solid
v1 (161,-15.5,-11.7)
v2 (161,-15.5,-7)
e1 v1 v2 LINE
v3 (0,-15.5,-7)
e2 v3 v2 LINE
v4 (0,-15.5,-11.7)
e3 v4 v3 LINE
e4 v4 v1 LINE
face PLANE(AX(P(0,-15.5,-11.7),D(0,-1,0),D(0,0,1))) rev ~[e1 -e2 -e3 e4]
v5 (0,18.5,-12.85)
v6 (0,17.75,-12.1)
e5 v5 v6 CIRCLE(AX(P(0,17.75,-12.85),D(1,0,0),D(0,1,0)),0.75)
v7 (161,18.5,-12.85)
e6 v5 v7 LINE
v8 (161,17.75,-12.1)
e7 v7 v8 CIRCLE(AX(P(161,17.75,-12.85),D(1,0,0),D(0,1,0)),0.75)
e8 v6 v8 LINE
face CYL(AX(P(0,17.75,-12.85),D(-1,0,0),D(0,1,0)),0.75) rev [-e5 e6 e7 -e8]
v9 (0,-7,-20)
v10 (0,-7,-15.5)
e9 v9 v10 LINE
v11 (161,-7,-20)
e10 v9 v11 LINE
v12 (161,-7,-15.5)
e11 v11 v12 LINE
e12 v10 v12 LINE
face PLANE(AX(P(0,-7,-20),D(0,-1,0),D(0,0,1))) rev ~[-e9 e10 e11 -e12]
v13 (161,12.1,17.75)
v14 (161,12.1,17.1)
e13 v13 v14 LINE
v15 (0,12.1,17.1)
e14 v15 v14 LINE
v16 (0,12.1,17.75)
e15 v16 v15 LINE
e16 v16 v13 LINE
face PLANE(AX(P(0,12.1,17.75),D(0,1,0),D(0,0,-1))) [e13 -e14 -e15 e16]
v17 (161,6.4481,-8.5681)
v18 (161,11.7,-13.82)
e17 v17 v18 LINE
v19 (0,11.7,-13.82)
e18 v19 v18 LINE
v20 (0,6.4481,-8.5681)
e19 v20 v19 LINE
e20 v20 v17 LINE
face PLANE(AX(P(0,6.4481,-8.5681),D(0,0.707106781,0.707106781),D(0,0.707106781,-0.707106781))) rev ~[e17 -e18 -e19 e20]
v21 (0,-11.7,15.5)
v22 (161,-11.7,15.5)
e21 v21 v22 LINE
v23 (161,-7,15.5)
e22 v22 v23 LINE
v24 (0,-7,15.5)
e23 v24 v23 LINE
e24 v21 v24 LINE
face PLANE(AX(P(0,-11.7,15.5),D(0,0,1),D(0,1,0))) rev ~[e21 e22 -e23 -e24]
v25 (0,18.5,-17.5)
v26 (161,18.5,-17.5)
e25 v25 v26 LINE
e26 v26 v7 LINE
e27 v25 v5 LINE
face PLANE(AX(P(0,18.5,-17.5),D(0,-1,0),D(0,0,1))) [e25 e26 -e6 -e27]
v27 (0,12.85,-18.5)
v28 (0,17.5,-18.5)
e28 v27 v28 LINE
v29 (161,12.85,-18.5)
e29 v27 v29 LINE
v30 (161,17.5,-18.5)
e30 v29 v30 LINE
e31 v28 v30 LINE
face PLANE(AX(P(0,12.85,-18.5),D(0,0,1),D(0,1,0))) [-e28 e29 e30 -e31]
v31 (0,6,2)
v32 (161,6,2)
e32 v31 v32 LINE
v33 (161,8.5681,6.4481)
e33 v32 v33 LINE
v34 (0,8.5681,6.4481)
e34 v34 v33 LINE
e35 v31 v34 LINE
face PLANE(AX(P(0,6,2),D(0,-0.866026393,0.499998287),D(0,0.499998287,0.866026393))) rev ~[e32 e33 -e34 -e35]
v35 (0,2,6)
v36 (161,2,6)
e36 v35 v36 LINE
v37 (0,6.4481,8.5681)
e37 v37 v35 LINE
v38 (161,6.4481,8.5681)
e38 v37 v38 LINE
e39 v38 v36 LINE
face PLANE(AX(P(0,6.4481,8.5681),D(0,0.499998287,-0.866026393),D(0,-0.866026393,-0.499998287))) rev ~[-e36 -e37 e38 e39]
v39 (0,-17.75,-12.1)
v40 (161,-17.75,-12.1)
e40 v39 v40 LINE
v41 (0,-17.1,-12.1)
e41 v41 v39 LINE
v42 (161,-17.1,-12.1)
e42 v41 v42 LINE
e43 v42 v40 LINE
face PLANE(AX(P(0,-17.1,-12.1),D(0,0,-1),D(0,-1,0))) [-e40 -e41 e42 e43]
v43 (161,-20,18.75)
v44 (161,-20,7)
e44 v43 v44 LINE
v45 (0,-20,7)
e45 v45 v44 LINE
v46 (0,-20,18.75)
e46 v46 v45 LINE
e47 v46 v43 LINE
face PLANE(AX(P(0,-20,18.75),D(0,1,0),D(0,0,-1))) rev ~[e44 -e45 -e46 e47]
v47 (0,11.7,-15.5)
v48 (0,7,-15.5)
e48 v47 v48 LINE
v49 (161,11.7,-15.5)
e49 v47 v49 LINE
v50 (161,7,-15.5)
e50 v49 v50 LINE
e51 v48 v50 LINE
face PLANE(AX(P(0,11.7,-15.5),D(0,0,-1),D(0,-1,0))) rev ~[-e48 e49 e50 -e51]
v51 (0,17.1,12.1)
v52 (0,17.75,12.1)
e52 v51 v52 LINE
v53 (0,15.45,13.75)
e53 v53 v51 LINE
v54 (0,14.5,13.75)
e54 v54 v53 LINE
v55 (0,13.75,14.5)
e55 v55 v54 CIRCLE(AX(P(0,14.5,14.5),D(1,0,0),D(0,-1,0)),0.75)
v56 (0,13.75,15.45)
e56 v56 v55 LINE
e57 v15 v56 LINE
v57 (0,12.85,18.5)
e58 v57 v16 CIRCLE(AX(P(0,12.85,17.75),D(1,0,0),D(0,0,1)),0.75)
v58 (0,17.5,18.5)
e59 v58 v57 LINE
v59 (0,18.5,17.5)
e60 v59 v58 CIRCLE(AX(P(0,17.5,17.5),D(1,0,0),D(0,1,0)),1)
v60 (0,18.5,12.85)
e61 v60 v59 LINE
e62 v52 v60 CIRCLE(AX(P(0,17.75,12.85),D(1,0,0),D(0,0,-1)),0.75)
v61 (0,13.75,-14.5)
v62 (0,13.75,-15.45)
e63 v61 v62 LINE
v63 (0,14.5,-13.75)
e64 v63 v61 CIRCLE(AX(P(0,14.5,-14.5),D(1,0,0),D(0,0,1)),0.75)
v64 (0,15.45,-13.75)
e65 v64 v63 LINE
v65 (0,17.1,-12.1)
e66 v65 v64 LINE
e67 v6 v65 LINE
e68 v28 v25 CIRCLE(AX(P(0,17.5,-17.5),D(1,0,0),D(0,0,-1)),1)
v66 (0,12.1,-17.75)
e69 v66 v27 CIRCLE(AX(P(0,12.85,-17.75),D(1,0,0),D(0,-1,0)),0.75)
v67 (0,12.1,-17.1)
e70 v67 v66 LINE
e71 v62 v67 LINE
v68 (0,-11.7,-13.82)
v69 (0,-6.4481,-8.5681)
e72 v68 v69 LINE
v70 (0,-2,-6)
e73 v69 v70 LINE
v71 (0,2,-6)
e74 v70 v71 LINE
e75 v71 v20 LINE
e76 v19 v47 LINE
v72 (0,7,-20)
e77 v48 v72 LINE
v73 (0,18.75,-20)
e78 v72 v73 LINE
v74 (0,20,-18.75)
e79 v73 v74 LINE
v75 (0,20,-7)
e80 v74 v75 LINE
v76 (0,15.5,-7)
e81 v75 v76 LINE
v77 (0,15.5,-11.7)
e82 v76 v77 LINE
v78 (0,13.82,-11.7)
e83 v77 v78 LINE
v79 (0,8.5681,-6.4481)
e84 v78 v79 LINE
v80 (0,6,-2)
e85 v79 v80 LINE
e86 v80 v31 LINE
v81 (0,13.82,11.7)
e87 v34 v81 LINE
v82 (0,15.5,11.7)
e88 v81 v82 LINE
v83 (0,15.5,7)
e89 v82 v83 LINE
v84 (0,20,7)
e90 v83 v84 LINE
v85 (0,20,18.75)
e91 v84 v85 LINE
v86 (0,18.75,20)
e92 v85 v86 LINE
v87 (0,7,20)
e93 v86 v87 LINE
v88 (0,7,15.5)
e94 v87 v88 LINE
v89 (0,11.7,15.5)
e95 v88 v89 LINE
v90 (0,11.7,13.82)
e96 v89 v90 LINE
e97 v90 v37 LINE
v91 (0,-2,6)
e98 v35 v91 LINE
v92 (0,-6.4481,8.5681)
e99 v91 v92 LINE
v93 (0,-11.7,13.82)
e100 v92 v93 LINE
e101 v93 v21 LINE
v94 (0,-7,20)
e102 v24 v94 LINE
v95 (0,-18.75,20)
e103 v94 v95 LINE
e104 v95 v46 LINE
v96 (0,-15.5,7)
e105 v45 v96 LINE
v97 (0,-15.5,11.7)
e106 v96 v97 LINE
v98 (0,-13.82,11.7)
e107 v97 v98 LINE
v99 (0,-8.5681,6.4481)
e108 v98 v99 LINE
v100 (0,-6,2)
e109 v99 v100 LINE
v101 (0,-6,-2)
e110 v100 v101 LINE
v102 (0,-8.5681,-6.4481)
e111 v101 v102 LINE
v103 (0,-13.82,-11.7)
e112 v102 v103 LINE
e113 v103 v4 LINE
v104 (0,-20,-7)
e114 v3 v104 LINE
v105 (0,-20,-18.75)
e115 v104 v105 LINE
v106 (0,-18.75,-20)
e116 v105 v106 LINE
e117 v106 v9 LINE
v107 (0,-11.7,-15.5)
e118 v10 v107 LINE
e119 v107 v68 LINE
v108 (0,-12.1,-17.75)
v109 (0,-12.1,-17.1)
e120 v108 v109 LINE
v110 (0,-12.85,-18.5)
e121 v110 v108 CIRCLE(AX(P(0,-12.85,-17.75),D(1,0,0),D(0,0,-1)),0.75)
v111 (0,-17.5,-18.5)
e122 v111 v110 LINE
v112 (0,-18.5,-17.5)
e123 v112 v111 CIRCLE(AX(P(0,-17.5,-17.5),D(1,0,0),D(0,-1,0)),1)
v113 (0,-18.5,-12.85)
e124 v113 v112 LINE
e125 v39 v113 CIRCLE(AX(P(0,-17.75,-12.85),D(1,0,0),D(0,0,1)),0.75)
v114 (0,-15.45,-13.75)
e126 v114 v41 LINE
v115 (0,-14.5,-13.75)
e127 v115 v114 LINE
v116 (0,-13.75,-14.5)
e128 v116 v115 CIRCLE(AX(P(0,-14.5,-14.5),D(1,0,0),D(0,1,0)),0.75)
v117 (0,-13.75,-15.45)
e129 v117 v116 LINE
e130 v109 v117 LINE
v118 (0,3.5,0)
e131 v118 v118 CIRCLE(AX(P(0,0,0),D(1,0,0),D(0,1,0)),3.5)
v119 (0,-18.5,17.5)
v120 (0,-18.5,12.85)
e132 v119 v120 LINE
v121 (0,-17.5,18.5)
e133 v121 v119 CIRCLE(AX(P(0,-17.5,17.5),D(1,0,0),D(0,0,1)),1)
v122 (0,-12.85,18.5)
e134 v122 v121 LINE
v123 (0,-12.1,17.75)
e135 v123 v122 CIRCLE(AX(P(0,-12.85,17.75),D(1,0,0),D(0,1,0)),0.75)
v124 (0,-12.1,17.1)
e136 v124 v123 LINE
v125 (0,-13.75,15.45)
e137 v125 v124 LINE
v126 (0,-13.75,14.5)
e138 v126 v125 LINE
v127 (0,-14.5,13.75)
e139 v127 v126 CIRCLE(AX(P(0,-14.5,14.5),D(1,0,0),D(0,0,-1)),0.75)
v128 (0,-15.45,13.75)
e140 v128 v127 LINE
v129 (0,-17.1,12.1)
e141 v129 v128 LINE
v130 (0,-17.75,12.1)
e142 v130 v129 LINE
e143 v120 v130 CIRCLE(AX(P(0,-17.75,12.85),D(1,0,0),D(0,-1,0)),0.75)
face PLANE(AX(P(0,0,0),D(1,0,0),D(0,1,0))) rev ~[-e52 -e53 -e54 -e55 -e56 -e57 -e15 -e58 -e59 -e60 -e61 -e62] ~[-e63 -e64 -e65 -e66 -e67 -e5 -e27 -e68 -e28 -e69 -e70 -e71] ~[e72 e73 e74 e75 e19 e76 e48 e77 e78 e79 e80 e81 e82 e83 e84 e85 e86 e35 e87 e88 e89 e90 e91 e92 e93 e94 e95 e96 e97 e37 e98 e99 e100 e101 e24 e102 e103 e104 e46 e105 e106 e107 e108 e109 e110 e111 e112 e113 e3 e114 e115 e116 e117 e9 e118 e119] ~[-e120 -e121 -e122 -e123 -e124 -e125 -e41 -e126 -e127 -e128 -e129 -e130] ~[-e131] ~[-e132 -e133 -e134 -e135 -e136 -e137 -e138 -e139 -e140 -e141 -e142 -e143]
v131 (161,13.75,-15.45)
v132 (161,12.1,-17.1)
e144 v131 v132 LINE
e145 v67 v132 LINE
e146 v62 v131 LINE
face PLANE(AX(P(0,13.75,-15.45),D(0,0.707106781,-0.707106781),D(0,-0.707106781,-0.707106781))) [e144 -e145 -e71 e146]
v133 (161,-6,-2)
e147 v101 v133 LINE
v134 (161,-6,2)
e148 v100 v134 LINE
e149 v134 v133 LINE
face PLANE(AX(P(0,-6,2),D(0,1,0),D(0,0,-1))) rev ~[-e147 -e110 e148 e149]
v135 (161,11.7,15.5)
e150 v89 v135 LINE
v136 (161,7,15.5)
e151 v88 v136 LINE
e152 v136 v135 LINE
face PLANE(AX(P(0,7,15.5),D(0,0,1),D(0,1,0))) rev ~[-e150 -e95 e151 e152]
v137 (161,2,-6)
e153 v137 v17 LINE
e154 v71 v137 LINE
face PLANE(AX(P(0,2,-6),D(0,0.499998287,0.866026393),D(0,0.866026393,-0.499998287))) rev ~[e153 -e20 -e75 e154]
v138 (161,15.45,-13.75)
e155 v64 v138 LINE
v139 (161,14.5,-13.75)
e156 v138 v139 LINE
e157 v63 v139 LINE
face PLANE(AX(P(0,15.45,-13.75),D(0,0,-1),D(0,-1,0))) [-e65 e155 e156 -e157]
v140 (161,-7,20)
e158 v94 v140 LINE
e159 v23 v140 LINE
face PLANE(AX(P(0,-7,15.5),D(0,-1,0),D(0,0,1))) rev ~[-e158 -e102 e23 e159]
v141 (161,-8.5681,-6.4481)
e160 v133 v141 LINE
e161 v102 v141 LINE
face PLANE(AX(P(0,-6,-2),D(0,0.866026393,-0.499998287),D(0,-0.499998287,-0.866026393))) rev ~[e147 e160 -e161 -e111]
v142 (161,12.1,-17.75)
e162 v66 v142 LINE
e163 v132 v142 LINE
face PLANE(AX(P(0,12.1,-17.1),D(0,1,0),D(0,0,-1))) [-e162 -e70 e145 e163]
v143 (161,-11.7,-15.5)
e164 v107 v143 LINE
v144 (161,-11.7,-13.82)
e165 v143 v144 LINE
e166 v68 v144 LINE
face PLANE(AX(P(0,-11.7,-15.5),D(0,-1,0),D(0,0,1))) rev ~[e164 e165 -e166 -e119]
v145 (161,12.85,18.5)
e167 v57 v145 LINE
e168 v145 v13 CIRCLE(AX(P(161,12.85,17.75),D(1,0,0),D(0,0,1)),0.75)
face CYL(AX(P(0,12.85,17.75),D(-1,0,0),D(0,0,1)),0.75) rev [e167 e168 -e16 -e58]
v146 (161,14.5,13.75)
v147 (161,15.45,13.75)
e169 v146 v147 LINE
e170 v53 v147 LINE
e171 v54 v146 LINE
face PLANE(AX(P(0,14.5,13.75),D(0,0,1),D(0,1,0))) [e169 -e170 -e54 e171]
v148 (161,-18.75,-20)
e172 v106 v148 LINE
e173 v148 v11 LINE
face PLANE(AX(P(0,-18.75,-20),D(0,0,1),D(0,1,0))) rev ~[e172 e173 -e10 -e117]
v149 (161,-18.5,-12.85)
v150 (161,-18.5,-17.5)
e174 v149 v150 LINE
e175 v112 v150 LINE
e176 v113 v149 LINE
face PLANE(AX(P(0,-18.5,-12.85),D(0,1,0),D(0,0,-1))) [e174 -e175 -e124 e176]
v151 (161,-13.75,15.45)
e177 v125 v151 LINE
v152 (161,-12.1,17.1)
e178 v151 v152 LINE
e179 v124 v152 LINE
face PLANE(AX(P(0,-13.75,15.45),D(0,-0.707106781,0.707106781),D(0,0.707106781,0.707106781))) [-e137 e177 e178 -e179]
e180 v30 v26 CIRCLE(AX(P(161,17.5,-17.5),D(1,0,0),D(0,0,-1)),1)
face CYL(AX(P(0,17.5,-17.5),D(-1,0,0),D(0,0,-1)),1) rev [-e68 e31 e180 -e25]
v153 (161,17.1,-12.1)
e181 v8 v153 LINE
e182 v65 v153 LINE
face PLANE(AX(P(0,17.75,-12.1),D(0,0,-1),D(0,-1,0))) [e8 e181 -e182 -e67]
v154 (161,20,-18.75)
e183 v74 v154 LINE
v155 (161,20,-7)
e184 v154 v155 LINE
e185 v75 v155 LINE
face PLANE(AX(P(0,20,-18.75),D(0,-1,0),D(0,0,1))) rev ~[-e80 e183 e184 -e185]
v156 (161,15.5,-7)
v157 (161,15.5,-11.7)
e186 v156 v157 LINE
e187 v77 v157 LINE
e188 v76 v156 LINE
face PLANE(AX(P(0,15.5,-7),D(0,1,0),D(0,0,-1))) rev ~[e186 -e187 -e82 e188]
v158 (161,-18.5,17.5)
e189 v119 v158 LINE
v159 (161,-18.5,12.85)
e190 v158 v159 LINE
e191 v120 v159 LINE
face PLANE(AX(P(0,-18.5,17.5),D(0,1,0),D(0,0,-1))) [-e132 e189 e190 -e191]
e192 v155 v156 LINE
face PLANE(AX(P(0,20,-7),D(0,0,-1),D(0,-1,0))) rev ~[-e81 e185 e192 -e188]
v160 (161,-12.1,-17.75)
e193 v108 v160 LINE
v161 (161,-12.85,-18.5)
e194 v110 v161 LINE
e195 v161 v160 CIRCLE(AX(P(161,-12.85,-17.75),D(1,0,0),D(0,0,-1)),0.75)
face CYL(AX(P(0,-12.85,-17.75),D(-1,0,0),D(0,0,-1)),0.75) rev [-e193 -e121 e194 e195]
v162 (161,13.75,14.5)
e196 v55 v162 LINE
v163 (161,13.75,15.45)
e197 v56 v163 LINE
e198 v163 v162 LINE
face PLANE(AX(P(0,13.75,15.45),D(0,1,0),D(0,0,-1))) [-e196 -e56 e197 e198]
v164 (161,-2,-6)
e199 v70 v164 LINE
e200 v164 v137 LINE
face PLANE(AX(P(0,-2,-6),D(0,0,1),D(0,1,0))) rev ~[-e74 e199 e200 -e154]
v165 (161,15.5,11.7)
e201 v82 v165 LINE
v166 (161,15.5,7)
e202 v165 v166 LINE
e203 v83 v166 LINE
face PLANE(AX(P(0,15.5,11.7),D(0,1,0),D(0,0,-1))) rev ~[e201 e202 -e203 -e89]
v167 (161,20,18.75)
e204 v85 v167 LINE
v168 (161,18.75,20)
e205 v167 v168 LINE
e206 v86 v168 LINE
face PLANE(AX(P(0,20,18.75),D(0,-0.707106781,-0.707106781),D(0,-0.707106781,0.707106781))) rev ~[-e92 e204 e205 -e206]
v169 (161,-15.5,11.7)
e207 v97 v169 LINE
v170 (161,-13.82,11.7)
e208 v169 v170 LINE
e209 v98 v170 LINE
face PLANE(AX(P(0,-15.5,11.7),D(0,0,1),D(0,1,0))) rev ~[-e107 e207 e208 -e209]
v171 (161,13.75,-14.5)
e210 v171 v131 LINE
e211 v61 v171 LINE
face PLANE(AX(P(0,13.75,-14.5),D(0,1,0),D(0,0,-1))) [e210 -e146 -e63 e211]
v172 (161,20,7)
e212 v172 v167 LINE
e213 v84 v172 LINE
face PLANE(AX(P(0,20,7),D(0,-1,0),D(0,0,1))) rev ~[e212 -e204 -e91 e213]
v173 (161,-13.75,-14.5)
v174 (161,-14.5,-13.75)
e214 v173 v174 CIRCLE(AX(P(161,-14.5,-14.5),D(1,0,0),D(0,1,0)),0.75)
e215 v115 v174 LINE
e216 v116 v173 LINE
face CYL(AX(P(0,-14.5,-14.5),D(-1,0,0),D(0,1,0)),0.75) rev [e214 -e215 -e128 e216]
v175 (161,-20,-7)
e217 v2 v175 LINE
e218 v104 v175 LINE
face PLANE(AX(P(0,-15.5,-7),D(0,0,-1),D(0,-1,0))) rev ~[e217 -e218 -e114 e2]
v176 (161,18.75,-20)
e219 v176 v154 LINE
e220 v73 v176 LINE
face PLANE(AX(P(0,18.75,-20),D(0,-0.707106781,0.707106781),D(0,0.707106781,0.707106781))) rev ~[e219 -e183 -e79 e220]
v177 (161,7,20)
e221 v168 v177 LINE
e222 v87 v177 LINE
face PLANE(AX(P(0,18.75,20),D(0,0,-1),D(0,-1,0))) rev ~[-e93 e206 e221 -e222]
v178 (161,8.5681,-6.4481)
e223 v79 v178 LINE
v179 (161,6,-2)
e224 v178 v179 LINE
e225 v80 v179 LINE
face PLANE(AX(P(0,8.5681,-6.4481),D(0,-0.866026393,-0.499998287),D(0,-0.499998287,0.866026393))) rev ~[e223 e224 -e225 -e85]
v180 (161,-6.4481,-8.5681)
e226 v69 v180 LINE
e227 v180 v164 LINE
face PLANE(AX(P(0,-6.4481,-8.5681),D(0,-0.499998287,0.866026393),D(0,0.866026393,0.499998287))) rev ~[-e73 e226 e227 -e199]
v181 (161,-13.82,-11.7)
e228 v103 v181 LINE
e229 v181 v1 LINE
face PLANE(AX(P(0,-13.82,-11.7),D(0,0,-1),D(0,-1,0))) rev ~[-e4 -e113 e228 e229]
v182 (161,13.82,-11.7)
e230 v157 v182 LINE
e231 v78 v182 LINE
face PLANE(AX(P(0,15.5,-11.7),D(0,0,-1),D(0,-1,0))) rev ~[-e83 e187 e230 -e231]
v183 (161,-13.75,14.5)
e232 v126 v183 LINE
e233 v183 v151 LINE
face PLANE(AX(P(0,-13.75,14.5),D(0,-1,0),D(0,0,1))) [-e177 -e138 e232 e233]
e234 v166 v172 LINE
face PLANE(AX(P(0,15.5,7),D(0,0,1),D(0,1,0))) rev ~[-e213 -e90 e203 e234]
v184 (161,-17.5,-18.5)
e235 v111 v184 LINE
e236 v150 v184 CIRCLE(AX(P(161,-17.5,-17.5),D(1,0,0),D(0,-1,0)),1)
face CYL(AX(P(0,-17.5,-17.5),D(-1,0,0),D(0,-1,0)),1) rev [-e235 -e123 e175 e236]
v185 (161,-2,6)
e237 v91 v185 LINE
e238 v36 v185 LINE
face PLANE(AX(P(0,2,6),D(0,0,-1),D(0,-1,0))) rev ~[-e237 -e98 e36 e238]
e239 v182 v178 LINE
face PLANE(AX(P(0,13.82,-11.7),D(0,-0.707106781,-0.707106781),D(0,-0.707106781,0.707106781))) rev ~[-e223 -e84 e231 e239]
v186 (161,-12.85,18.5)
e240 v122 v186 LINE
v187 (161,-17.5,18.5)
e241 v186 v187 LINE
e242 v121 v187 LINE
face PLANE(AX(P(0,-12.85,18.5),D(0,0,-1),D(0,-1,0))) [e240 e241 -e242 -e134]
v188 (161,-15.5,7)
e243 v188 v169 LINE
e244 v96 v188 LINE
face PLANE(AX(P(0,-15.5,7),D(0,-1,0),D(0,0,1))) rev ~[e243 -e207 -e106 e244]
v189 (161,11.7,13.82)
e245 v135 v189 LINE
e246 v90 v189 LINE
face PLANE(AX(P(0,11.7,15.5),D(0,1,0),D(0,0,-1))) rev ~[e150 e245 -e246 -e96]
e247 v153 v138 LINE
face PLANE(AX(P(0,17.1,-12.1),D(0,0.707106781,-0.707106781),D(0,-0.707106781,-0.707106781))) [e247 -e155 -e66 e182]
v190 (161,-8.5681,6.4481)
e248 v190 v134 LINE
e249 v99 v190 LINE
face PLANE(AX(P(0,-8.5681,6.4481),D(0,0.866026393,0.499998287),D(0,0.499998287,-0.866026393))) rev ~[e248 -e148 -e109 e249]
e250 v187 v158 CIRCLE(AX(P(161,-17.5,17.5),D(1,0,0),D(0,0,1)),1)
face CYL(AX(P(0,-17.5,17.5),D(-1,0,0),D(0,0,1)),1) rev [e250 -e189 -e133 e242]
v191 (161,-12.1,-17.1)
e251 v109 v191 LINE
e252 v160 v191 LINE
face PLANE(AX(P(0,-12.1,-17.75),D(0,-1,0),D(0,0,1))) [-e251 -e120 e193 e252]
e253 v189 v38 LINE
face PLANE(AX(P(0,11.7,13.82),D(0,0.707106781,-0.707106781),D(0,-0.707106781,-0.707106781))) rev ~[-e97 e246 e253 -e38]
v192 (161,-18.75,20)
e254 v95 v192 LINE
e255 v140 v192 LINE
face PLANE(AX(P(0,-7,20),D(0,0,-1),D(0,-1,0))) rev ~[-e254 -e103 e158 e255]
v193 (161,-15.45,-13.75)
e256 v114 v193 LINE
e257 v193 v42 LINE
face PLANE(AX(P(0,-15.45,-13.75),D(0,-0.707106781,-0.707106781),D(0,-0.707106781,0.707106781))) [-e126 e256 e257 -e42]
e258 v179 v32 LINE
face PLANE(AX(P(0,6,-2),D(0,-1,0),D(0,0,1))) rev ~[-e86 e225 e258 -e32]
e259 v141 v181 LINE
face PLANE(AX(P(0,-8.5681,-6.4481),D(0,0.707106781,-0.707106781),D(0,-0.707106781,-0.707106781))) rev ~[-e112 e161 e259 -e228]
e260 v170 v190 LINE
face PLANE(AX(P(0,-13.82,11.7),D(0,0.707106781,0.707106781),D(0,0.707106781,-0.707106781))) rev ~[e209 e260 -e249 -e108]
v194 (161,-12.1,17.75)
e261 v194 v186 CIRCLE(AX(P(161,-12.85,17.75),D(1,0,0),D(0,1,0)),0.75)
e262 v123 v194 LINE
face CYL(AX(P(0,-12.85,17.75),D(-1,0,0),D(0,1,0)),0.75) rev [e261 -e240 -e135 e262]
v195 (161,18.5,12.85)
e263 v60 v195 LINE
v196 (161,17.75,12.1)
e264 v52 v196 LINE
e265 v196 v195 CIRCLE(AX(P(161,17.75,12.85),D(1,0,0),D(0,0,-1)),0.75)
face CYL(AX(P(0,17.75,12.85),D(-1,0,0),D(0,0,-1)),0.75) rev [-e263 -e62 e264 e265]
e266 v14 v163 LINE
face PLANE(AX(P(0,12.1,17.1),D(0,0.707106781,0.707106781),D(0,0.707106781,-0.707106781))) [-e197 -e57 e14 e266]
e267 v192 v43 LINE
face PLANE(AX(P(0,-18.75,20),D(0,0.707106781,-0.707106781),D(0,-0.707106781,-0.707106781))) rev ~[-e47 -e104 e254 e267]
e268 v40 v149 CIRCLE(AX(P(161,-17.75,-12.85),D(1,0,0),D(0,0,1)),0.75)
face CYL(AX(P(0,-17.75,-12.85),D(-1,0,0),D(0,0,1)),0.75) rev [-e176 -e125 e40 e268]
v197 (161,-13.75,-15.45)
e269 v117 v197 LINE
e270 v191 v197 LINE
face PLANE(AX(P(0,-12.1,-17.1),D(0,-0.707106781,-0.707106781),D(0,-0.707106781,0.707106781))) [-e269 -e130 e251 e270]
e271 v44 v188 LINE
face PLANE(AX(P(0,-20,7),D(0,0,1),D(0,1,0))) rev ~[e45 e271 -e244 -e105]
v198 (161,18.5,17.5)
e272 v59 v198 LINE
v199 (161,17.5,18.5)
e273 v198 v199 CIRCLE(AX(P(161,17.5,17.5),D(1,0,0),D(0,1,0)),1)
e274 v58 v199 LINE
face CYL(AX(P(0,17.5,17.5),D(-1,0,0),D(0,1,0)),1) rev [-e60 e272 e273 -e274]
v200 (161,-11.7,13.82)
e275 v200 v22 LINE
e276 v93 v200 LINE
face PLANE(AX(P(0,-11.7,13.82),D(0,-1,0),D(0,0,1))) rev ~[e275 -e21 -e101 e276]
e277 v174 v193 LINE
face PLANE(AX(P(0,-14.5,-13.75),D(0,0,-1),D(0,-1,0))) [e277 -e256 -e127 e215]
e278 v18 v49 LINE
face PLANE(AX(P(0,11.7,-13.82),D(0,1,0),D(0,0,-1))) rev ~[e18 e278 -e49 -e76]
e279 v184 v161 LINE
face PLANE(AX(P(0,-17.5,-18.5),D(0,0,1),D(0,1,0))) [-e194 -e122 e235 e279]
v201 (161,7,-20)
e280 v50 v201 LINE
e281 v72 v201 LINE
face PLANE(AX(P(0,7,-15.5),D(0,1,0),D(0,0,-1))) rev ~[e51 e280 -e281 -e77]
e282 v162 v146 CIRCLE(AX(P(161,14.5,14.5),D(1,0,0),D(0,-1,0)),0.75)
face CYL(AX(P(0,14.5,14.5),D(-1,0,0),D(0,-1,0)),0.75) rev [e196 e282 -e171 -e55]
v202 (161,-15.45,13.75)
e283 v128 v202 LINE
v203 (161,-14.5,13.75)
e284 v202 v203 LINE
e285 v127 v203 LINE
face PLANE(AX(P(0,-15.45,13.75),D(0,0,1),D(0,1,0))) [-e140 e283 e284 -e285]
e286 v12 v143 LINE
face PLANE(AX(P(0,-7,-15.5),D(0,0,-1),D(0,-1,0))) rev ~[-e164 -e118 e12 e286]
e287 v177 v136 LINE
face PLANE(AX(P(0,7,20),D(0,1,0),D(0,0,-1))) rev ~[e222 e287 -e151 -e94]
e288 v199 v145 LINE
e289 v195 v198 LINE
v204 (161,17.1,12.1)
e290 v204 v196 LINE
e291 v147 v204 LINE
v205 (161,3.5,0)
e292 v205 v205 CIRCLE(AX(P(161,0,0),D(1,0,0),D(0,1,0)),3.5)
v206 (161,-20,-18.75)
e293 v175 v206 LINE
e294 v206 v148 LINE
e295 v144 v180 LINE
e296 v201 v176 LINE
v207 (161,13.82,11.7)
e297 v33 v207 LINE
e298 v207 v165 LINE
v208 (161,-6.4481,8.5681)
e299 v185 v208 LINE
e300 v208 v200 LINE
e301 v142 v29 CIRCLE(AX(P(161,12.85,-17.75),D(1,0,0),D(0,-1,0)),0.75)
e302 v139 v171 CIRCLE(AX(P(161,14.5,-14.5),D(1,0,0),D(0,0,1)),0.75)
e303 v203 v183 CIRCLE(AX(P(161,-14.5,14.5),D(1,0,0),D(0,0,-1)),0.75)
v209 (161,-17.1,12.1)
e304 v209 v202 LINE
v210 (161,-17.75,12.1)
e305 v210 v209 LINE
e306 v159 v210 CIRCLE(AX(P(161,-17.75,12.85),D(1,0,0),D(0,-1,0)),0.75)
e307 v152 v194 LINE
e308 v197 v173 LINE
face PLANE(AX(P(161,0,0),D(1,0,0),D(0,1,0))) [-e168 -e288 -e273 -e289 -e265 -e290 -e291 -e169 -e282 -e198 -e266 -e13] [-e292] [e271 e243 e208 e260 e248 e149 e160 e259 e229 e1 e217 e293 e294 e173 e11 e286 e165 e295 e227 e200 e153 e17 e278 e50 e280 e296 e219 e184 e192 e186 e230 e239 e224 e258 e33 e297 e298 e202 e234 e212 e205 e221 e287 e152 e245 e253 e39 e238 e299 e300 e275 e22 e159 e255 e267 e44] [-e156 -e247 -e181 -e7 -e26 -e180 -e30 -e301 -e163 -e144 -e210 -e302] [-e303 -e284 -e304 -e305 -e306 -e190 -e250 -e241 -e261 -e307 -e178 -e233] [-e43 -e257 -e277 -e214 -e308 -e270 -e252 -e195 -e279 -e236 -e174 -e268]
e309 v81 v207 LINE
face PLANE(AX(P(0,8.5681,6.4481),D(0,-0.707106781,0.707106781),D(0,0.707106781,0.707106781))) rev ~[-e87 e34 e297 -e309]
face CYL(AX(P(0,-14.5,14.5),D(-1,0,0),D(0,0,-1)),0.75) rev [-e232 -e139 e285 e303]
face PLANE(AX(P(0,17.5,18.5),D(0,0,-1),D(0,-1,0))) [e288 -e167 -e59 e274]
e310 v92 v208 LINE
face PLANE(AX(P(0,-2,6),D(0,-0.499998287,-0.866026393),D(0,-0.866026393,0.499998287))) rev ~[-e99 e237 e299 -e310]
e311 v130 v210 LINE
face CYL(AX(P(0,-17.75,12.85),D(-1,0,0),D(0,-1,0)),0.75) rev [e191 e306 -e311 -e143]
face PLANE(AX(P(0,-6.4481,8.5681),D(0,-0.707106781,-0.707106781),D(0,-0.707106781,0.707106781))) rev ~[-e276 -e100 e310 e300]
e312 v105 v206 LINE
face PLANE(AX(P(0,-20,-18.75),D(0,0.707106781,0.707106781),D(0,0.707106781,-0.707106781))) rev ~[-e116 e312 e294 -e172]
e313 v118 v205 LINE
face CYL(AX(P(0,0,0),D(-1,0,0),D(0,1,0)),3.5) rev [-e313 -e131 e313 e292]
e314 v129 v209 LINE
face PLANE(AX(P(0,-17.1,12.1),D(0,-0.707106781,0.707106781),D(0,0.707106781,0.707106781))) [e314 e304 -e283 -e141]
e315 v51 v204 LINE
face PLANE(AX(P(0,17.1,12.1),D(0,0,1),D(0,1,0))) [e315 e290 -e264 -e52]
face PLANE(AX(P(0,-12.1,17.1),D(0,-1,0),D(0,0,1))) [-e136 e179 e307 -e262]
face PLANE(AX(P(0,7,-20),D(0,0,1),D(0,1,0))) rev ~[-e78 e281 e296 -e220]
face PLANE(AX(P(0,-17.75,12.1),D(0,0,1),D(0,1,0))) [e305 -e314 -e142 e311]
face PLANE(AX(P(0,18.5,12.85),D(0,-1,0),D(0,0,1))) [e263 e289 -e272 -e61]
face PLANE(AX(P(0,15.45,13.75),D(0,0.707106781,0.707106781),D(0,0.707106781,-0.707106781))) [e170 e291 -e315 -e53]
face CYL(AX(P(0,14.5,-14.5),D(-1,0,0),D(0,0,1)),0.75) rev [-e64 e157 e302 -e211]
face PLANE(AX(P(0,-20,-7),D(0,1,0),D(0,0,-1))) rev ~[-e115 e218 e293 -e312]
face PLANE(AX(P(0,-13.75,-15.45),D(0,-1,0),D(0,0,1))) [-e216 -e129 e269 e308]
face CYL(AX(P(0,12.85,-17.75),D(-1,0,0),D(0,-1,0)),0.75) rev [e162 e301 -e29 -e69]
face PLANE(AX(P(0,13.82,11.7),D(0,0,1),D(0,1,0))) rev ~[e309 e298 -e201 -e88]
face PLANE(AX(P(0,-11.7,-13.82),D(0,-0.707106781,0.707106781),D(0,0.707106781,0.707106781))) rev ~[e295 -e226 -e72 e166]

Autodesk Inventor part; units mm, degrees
sketch "Skizze_1" plane through (0, 0, 0) normal (1, 0, 0) x (0, 1, 0)
  line L0 (18.75, 20) -> (7, 20)
  line L1 (7, 20) -> (7, 15.5)
  line L2 (7, 15.5) -> (11.7, 15.5)
  line L3 (11.7, 15.5) -> (11.7, 13.82)
  line L4 (11.7, 13.82) -> (6.4481, 8.5681)
  line L5 (6.4481, 8.5681) -> (2, 6)
  line L6 (2, 6) -> (-2, 6)
  line L7 (-2, 6) -> (-6.4481, 8.5681)
  line L8 (-6.4481, 8.5681) -> (-11.7, 13.82)
  line L9 (-11.7, 13.82) -> (-11.7, 15.5)
  line L10 (-11.7, 15.5) -> (-7, 15.5)
  line L11 (-7, 15.5) -> (-7, 20)
  line L12 (-7, 20) -> (-18.75, 20)
  line L13 (-18.75, 20) -> (-20, 18.75)
  line L14 (-20, 18.75) -> (-20, 7)
  line L15 (-20, 7) -> (-15.5, 7)
  line L16 (-15.5, 7) -> (-15.5, 11.7)
  line L17 (-15.5, 11.7) -> (-13.82, 11.7)
  line L18 (-13.82, 11.7) -> (-8.5681, 6.4481)
  line L19 (-8.5681, 6.4481) -> (-6, 2)
  line L20 (-6, 2) -> (-6, -2)
  line L21 (-6, -2) -> (-8.5681, -6.4481)
  line L22 (-8.5681, -6.4481) -> (-13.82, -11.7)
  line L23 (-13.82, -11.7) -> (-15.5, -11.7)
  line L24 (-15.5, -11.7) -> (-15.5, -7)
  line L25 (-15.5, -7) -> (-20, -7)
  line L26 (-20, -7) -> (-20, -18.75)
  line L27 (-20, -18.75) -> (-18.75, -20)
  line L28 (-18.75, -20) -> (-7, -20)
  line L29 (-7, -20) -> (-7, -15.5)
  line L30 (-7, -15.5) -> (-11.7, -15.5)
  line L31 (-11.7, -15.5) -> (-11.7, -13.82)
  line L32 (-11.7, -13.82) -> (-6.4481, -8.5681)
  line L33 (-6.4481, -8.5681) -> (-2, -6)
  line L34 (-2, -6) -> (2, -6)
  line L35 (2, -6) -> (6.4481, -8.5681)
  line L36 (6.4481, -8.5681) -> (11.7, -13.82)
  line L37 (11.7, -13.82) -> (11.7, -15.5)
  line L38 (11.7, -15.5) -> (7, -15.5)
  line L39 (7, -15.5) -> (7, -20)
  line L40 (7, -20) -> (18.75, -20)
  line L41 (18.75, -20) -> (20, -18.75)
  line L42 (20, -18.75) -> (20, -7)
  line L43 (20, -7) -> (15.5, -7)
  line L44 (15.5, -7) -> (15.5, -11.7)
  line L45 (15.5, -11.7) -> (13.82, -11.7)
  line L46 (13.82, -11.7) -> (8.5681, -6.4481)
  line L47 (8.5681, -6.4481) -> (6, -2)
  line L48 (6, -2) -> (6, 2)
  line L49 (6, 2) -> (8.5681, 6.4481)
  line L50 (8.5681, 6.4481) -> (13.82, 11.7)
  line L51 (13.82, 11.7) -> (15.5, 11.7)
  line L52 (15.5, 11.7) -> (15.5, 7)
  line L53 (15.5, 7) -> (20, 7)
  line L54 (20, 7) -> (20, 18.75)
  line L55 (20, 18.75) -> (18.75, 20)
  line L56 (17.75, -12.1) -> (17.1, -12.1)
  line L57 (17.1, -12.1) -> (15.45, -13.75)
  line L58 (15.45, -13.75) -> (14.5, -13.75)
  arc A0 (14.5, -13.75) -> (13.75, -14.5) centre (14.5, -14.5) ccw
  line L59 (13.75, -14.5) -> (13.75, -15.45)
  line L60 (13.75, -15.45) -> (12.1, -17.1)
  line L61 (12.1, -17.1) -> (12.1, -17.75)
  arc A1 (12.1, -17.75) -> (12.85, -18.5) centre (12.85, -17.75) ccw
  line L62 (12.85, -18.5) -> (17.5, -18.5)
  arc A2 (17.5, -18.5) -> (18.5, -17.5) centre (17.5, -17.5) ccw
  line L63 (18.5, -17.5) -> (18.5, -12.85)
  arc A3 (18.5, -12.85) -> (17.75, -12.1) centre (17.75, -12.85) ccw
  line L64 (-17.1, -12.1) -> (-17.75, -12.1)
  arc A4 (-17.75, -12.1) -> (-18.5, -12.85) centre (-17.75, -12.85) ccw
  line L65 (-18.5, -12.85) -> (-18.5, -17.5)
  arc A5 (-18.5, -17.5) -> (-17.5, -18.5) centre (-17.5, -17.5) ccw
  line L66 (-17.5, -18.5) -> (-12.85, -18.5)
  arc A6 (-12.85, -18.5) -> (-12.1, -17.75) centre (-12.85, -17.75) ccw
  line L67 (-12.1, -17.75) -> (-12.1, -17.1)
  line L68 (-12.1, -17.1) -> (-13.75, -15.45)
  line L69 (-13.75, -15.45) -> (-13.75, -14.5)
  arc A7 (-13.75, -14.5) -> (-14.5, -13.75) centre (-14.5, -14.5) ccw
  line L70 (-14.5, -13.75) -> (-15.45, -13.75)
  line L71 (-15.45, -13.75) -> (-17.1, -12.1)
  circle A8 centre (0, 0) radius 3.5
  arc A9 (-17.5, 18.5) -> (-18.5, 17.5) centre (-17.5, 17.5) ccw
  line L72 (-18.5, 17.5) -> (-18.5, 12.85)
  arc A10 (-18.5, 12.85) -> (-17.75, 12.1) centre (-17.75, 12.85) ccw
  line L73 (-17.75, 12.1) -> (-17.1, 12.1)
  line L74 (-17.1, 12.1) -> (-15.45, 13.75)
  line L75 (-15.45, 13.75) -> (-14.5, 13.75)
  arc A11 (-14.5, 13.75) -> (-13.75, 14.5) centre (-14.5, 14.5) ccw
  line L76 (-13.75, 14.5) -> (-13.75, 15.45)
  line L77 (-13.75, 15.45) -> (-12.1, 17.1)
  line L78 (-12.1, 17.1) -> (-12.1, 17.75)
  arc A12 (-12.1, 17.75) -> (-12.85, 18.5) centre (-12.85, 17.75) ccw
  line L79 (-12.85, 18.5) -> (-17.5, 18.5)
  line L80 (17.5, 18.5) -> (12.85, 18.5)
  arc A13 (12.85, 18.5) -> (12.1, 17.75) centre (12.85, 17.75) ccw
  line L81 (12.1, 17.75) -> (12.1, 17.1)
  line L82 (12.1, 17.1) -> (13.75, 15.45)
  line L83 (13.75, 15.45) -> (13.75, 14.5)
  arc A14 (13.75, 14.5) -> (14.5, 13.75) centre (14.5, 14.5) ccw
  line L84 (14.5, 13.75) -> (15.45, 13.75)
  line L85 (15.45, 13.75) -> (17.1, 12.1)
  line L86 (17.1, 12.1) -> (17.75, 12.1)
  arc A15 (17.75, 12.1) -> (18.5, 12.85) centre (17.75, 12.85) ccw
  line L87 (18.5, 12.85) -> (18.5, 17.5)
  arc A16 (18.5, 17.5) -> (17.5, 18.5) centre (17.5, 17.5) ccw
extrude "Extrusion1" add sketch "Skizze_1" along normal blind 161
ref_plane "CS_ANBAU_HINTEN_LINKS_XY" through (161, 0, 20) normal (1, 0, 0) x (0, 0, -1)
ref_plane "CS_ANBAU_HINTEN_LINKS_YZ" through (161, 0, 20) normal (0, 0, -1) x (0, 1, 0)
ref_plane "CS_ANBAU_HINTEN_LINKS_ZX" through (161, 0, 20) normal (0, 1, 0) x (1, 0, 0)
ref_plane "CS_ANBAU_HINTEN_OBEN_XY" through (161, 20, 0) normal (1, 0, 0) x (0, 0, -1)
ref_plane "CS_ANBAU_HINTEN_OBEN_YZ" through (161, 20, 0) normal (0, 0, -1) x (0, 1, 0)
ref_plane "CS_ANBAU_HINTEN_OBEN_ZX" through (161, 20, 0) normal (0, 1, 0) x (1, 0, 0)
ref_plane "CS_ANBAU_HINTEN_RECHTS_XY" through (161, 0, -20) normal (1, 0, 0) x (0, 0, -1)
ref_plane "CS_ANBAU_HINTEN_RECHTS_YZ" through (161, 0, -20) normal (0, 0, -1) x (0, 1, 0)
ref_plane "CS_ANBAU_HINTEN_RECHTS_ZX" through (161, 0, -20) normal (0, 1, 0) x (1, 0, 0)
ref_plane "CS_ANBAU_HINTEN_UNTEN_XY" through (161, -20, 0) normal (1, 0, 0) x (0, 0, -1)
ref_plane "CS_ANBAU_HINTEN_UNTEN_YZ" through (161, -20, 0) normal (0, 0, -1) x (0, 1, 0)
ref_plane "CS_ANBAU_HINTEN_UNTEN_ZX" through (161, -20, 0) normal (0, 1, 0) x (1, 0, 0)
ref_plane "CS_ANBAU_QUER_XY" through (0, 0, 20) normal (0, 0, 1) x (1, 0, 0)
ref_plane "CS_ANBAU_QUER_YZ" through (0, 0, 20) normal (1, 0, 0) x (0, 1, 0)
ref_plane "CS_ANBAU_QUER_ZX" through (0, 0, 20) normal (0, 1, 0) x (0, 0, 1)
ref_plane "CS_ANBAU_QUER_1_XY" through (161, 0, 20) normal (0, 0, 1) x (1, 0, 0)
ref_plane "CS_ANBAU_QUER_1_YZ" through (161, 0, 20) normal (1, 0, 0) x (0, 1, 0)
ref_plane "CS_ANBAU_QUER_1_ZX" through (161, 0, 20) normal (0, 1, 0) x (0, 0, 1)
ref_plane "CS_ANBAU_VORNE_LINKS_XY" through (0, 0, 20) normal (-1, 0, 0) x (0, 0, -1)
ref_plane "CS_ANBAU_VORNE_LINKS_YZ" through (0, 0, 20) normal (0, 0, -1) x (0, -1, 0)
ref_plane "CS_ANBAU_VORNE_LINKS_ZX" through (0, 0, 20) normal (0, -1, 0) x (-1, 0, 0)
ref_plane "CS_ANBAU_VORNE_OBEN_XY" through (0, 20, 0) normal (-1, 0, 0) x (0, 0, -1)
ref_plane "CS_ANBAU_VORNE_OBEN_YZ" through (0, 20, 0) normal (0, 0, -1) x (0, -1, 0)
ref_plane "CS_ANBAU_VORNE_OBEN_ZX" through (0, 20, 0) normal (0, -1, 0) x (-1, 0, 0)
ref_plane "CS_ANBAU_VORNE_RECHTS_XY" through (0, 0, -20) normal (-1, 0, 0) x (0, 0, -1)
ref_plane "CS_ANBAU_VORNE_RECHTS_YZ" through (0, 0, -20) normal (0, 0, -1) x (0, -1, 0)
ref_plane "CS_ANBAU_VORNE_RECHTS_ZX" through (0, 0, -20) normal (0, -1, 0) x (-1, 0, 0)
ref_plane "CS_ANBAU_VORNE_UNTEN_XY" through (0, -20, 0) normal (-1, 0, 0) x (0, 0, -1)
ref_plane "CS_ANBAU_VORNE_UNTEN_YZ" through (0, -20, 0) normal (0, 0, -1) x (0, -1, 0)
ref_plane "CS_ANBAU_VORNE_UNTEN_ZX" through (0, -20, 0) normal (0, -1, 0) x (-1, 0, 0)
ref_plane "p1_XY" through (0, 20, 0) normal (0, 0, 1) x (1, 0, 0)
ref_plane "p1_YZ" through (0, 20, 0) normal (1, 0, 0) x (0, 1, 0)
ref_plane "p1_ZX" through (0, 20, 0) normal (0, 1, 0) x (0, 0, 1)
ref_plane "p2_XY" through (161, 20, 0) normal (0, 0, 1) x (1, 0, 0)
ref_plane "p2_YZ" through (161, 20, 0) normal (1, 0, 0) x (0, 1, 0)
ref_plane "p2_ZX" through (161, 20, 0) normal (0, 1, 0) x (0, 0, 1)
ref_plane "p3_XY" through (161, -20, 18.75) normal (1, 0, 0) x (0, 0, -1)
ref_plane "p3_YZ" through (161, -20, 18.75) normal (0, 0, -1) x (0, 1, 0)
ref_plane "p3_ZX" through (161, -20, 18.75) normal (0, 1, 0) x (1, 0, 0)
ref_plane "p4_XY" through (161, 20, 18.75) normal (1, 0, 0) x (0, 0, -1)
ref_plane "p4_YZ" through (161, 20, 18.75) normal (0, 0, -1) x (0, 1, 0)
ref_plane "p4_ZX" through (161, 20, 18.75) normal (0, 1, 0) x (1, 0, 0)
ref_plane "p5_XY" through (161, 20, -21.25) normal (1, 0, 0) x (0, 0, -1)
ref_plane "p5_YZ" through (161, 20, -21.25) normal (0, 0, -1) x (0, 1, 0)
ref_plane "p5_ZX" through (161, 20, -21.25) normal (0, 1, 0) x (1, 0, 0)
ref_plane "pm1_XY" through (0, 0, 0) normal (1, 0, 0) x (0, 0, -1)
ref_plane "pm1_YZ" through (0, 0, 0) normal (0, 0, -1) x (0, 1, 0)
ref_plane "pm1_ZX" through (0, 0, 0) normal (0, 1, 0) x (1, 0, 0)
ref_plane "pm2_XY" through (161, 0, -1.25) normal (1, 0, 0) x (0, 0, -1)
ref_plane "pm2_YZ" through (161, 0, -1.25) normal (0, 0, -1) x (0, 1, 0)
ref_plane "pm2_ZX" through (161, 0, -1.25) normal (0, 1, 0) x (1, 0, 0)
properties part number "Robotunits Profil 40 x 40 - PIL 4040 SNN 0161"
